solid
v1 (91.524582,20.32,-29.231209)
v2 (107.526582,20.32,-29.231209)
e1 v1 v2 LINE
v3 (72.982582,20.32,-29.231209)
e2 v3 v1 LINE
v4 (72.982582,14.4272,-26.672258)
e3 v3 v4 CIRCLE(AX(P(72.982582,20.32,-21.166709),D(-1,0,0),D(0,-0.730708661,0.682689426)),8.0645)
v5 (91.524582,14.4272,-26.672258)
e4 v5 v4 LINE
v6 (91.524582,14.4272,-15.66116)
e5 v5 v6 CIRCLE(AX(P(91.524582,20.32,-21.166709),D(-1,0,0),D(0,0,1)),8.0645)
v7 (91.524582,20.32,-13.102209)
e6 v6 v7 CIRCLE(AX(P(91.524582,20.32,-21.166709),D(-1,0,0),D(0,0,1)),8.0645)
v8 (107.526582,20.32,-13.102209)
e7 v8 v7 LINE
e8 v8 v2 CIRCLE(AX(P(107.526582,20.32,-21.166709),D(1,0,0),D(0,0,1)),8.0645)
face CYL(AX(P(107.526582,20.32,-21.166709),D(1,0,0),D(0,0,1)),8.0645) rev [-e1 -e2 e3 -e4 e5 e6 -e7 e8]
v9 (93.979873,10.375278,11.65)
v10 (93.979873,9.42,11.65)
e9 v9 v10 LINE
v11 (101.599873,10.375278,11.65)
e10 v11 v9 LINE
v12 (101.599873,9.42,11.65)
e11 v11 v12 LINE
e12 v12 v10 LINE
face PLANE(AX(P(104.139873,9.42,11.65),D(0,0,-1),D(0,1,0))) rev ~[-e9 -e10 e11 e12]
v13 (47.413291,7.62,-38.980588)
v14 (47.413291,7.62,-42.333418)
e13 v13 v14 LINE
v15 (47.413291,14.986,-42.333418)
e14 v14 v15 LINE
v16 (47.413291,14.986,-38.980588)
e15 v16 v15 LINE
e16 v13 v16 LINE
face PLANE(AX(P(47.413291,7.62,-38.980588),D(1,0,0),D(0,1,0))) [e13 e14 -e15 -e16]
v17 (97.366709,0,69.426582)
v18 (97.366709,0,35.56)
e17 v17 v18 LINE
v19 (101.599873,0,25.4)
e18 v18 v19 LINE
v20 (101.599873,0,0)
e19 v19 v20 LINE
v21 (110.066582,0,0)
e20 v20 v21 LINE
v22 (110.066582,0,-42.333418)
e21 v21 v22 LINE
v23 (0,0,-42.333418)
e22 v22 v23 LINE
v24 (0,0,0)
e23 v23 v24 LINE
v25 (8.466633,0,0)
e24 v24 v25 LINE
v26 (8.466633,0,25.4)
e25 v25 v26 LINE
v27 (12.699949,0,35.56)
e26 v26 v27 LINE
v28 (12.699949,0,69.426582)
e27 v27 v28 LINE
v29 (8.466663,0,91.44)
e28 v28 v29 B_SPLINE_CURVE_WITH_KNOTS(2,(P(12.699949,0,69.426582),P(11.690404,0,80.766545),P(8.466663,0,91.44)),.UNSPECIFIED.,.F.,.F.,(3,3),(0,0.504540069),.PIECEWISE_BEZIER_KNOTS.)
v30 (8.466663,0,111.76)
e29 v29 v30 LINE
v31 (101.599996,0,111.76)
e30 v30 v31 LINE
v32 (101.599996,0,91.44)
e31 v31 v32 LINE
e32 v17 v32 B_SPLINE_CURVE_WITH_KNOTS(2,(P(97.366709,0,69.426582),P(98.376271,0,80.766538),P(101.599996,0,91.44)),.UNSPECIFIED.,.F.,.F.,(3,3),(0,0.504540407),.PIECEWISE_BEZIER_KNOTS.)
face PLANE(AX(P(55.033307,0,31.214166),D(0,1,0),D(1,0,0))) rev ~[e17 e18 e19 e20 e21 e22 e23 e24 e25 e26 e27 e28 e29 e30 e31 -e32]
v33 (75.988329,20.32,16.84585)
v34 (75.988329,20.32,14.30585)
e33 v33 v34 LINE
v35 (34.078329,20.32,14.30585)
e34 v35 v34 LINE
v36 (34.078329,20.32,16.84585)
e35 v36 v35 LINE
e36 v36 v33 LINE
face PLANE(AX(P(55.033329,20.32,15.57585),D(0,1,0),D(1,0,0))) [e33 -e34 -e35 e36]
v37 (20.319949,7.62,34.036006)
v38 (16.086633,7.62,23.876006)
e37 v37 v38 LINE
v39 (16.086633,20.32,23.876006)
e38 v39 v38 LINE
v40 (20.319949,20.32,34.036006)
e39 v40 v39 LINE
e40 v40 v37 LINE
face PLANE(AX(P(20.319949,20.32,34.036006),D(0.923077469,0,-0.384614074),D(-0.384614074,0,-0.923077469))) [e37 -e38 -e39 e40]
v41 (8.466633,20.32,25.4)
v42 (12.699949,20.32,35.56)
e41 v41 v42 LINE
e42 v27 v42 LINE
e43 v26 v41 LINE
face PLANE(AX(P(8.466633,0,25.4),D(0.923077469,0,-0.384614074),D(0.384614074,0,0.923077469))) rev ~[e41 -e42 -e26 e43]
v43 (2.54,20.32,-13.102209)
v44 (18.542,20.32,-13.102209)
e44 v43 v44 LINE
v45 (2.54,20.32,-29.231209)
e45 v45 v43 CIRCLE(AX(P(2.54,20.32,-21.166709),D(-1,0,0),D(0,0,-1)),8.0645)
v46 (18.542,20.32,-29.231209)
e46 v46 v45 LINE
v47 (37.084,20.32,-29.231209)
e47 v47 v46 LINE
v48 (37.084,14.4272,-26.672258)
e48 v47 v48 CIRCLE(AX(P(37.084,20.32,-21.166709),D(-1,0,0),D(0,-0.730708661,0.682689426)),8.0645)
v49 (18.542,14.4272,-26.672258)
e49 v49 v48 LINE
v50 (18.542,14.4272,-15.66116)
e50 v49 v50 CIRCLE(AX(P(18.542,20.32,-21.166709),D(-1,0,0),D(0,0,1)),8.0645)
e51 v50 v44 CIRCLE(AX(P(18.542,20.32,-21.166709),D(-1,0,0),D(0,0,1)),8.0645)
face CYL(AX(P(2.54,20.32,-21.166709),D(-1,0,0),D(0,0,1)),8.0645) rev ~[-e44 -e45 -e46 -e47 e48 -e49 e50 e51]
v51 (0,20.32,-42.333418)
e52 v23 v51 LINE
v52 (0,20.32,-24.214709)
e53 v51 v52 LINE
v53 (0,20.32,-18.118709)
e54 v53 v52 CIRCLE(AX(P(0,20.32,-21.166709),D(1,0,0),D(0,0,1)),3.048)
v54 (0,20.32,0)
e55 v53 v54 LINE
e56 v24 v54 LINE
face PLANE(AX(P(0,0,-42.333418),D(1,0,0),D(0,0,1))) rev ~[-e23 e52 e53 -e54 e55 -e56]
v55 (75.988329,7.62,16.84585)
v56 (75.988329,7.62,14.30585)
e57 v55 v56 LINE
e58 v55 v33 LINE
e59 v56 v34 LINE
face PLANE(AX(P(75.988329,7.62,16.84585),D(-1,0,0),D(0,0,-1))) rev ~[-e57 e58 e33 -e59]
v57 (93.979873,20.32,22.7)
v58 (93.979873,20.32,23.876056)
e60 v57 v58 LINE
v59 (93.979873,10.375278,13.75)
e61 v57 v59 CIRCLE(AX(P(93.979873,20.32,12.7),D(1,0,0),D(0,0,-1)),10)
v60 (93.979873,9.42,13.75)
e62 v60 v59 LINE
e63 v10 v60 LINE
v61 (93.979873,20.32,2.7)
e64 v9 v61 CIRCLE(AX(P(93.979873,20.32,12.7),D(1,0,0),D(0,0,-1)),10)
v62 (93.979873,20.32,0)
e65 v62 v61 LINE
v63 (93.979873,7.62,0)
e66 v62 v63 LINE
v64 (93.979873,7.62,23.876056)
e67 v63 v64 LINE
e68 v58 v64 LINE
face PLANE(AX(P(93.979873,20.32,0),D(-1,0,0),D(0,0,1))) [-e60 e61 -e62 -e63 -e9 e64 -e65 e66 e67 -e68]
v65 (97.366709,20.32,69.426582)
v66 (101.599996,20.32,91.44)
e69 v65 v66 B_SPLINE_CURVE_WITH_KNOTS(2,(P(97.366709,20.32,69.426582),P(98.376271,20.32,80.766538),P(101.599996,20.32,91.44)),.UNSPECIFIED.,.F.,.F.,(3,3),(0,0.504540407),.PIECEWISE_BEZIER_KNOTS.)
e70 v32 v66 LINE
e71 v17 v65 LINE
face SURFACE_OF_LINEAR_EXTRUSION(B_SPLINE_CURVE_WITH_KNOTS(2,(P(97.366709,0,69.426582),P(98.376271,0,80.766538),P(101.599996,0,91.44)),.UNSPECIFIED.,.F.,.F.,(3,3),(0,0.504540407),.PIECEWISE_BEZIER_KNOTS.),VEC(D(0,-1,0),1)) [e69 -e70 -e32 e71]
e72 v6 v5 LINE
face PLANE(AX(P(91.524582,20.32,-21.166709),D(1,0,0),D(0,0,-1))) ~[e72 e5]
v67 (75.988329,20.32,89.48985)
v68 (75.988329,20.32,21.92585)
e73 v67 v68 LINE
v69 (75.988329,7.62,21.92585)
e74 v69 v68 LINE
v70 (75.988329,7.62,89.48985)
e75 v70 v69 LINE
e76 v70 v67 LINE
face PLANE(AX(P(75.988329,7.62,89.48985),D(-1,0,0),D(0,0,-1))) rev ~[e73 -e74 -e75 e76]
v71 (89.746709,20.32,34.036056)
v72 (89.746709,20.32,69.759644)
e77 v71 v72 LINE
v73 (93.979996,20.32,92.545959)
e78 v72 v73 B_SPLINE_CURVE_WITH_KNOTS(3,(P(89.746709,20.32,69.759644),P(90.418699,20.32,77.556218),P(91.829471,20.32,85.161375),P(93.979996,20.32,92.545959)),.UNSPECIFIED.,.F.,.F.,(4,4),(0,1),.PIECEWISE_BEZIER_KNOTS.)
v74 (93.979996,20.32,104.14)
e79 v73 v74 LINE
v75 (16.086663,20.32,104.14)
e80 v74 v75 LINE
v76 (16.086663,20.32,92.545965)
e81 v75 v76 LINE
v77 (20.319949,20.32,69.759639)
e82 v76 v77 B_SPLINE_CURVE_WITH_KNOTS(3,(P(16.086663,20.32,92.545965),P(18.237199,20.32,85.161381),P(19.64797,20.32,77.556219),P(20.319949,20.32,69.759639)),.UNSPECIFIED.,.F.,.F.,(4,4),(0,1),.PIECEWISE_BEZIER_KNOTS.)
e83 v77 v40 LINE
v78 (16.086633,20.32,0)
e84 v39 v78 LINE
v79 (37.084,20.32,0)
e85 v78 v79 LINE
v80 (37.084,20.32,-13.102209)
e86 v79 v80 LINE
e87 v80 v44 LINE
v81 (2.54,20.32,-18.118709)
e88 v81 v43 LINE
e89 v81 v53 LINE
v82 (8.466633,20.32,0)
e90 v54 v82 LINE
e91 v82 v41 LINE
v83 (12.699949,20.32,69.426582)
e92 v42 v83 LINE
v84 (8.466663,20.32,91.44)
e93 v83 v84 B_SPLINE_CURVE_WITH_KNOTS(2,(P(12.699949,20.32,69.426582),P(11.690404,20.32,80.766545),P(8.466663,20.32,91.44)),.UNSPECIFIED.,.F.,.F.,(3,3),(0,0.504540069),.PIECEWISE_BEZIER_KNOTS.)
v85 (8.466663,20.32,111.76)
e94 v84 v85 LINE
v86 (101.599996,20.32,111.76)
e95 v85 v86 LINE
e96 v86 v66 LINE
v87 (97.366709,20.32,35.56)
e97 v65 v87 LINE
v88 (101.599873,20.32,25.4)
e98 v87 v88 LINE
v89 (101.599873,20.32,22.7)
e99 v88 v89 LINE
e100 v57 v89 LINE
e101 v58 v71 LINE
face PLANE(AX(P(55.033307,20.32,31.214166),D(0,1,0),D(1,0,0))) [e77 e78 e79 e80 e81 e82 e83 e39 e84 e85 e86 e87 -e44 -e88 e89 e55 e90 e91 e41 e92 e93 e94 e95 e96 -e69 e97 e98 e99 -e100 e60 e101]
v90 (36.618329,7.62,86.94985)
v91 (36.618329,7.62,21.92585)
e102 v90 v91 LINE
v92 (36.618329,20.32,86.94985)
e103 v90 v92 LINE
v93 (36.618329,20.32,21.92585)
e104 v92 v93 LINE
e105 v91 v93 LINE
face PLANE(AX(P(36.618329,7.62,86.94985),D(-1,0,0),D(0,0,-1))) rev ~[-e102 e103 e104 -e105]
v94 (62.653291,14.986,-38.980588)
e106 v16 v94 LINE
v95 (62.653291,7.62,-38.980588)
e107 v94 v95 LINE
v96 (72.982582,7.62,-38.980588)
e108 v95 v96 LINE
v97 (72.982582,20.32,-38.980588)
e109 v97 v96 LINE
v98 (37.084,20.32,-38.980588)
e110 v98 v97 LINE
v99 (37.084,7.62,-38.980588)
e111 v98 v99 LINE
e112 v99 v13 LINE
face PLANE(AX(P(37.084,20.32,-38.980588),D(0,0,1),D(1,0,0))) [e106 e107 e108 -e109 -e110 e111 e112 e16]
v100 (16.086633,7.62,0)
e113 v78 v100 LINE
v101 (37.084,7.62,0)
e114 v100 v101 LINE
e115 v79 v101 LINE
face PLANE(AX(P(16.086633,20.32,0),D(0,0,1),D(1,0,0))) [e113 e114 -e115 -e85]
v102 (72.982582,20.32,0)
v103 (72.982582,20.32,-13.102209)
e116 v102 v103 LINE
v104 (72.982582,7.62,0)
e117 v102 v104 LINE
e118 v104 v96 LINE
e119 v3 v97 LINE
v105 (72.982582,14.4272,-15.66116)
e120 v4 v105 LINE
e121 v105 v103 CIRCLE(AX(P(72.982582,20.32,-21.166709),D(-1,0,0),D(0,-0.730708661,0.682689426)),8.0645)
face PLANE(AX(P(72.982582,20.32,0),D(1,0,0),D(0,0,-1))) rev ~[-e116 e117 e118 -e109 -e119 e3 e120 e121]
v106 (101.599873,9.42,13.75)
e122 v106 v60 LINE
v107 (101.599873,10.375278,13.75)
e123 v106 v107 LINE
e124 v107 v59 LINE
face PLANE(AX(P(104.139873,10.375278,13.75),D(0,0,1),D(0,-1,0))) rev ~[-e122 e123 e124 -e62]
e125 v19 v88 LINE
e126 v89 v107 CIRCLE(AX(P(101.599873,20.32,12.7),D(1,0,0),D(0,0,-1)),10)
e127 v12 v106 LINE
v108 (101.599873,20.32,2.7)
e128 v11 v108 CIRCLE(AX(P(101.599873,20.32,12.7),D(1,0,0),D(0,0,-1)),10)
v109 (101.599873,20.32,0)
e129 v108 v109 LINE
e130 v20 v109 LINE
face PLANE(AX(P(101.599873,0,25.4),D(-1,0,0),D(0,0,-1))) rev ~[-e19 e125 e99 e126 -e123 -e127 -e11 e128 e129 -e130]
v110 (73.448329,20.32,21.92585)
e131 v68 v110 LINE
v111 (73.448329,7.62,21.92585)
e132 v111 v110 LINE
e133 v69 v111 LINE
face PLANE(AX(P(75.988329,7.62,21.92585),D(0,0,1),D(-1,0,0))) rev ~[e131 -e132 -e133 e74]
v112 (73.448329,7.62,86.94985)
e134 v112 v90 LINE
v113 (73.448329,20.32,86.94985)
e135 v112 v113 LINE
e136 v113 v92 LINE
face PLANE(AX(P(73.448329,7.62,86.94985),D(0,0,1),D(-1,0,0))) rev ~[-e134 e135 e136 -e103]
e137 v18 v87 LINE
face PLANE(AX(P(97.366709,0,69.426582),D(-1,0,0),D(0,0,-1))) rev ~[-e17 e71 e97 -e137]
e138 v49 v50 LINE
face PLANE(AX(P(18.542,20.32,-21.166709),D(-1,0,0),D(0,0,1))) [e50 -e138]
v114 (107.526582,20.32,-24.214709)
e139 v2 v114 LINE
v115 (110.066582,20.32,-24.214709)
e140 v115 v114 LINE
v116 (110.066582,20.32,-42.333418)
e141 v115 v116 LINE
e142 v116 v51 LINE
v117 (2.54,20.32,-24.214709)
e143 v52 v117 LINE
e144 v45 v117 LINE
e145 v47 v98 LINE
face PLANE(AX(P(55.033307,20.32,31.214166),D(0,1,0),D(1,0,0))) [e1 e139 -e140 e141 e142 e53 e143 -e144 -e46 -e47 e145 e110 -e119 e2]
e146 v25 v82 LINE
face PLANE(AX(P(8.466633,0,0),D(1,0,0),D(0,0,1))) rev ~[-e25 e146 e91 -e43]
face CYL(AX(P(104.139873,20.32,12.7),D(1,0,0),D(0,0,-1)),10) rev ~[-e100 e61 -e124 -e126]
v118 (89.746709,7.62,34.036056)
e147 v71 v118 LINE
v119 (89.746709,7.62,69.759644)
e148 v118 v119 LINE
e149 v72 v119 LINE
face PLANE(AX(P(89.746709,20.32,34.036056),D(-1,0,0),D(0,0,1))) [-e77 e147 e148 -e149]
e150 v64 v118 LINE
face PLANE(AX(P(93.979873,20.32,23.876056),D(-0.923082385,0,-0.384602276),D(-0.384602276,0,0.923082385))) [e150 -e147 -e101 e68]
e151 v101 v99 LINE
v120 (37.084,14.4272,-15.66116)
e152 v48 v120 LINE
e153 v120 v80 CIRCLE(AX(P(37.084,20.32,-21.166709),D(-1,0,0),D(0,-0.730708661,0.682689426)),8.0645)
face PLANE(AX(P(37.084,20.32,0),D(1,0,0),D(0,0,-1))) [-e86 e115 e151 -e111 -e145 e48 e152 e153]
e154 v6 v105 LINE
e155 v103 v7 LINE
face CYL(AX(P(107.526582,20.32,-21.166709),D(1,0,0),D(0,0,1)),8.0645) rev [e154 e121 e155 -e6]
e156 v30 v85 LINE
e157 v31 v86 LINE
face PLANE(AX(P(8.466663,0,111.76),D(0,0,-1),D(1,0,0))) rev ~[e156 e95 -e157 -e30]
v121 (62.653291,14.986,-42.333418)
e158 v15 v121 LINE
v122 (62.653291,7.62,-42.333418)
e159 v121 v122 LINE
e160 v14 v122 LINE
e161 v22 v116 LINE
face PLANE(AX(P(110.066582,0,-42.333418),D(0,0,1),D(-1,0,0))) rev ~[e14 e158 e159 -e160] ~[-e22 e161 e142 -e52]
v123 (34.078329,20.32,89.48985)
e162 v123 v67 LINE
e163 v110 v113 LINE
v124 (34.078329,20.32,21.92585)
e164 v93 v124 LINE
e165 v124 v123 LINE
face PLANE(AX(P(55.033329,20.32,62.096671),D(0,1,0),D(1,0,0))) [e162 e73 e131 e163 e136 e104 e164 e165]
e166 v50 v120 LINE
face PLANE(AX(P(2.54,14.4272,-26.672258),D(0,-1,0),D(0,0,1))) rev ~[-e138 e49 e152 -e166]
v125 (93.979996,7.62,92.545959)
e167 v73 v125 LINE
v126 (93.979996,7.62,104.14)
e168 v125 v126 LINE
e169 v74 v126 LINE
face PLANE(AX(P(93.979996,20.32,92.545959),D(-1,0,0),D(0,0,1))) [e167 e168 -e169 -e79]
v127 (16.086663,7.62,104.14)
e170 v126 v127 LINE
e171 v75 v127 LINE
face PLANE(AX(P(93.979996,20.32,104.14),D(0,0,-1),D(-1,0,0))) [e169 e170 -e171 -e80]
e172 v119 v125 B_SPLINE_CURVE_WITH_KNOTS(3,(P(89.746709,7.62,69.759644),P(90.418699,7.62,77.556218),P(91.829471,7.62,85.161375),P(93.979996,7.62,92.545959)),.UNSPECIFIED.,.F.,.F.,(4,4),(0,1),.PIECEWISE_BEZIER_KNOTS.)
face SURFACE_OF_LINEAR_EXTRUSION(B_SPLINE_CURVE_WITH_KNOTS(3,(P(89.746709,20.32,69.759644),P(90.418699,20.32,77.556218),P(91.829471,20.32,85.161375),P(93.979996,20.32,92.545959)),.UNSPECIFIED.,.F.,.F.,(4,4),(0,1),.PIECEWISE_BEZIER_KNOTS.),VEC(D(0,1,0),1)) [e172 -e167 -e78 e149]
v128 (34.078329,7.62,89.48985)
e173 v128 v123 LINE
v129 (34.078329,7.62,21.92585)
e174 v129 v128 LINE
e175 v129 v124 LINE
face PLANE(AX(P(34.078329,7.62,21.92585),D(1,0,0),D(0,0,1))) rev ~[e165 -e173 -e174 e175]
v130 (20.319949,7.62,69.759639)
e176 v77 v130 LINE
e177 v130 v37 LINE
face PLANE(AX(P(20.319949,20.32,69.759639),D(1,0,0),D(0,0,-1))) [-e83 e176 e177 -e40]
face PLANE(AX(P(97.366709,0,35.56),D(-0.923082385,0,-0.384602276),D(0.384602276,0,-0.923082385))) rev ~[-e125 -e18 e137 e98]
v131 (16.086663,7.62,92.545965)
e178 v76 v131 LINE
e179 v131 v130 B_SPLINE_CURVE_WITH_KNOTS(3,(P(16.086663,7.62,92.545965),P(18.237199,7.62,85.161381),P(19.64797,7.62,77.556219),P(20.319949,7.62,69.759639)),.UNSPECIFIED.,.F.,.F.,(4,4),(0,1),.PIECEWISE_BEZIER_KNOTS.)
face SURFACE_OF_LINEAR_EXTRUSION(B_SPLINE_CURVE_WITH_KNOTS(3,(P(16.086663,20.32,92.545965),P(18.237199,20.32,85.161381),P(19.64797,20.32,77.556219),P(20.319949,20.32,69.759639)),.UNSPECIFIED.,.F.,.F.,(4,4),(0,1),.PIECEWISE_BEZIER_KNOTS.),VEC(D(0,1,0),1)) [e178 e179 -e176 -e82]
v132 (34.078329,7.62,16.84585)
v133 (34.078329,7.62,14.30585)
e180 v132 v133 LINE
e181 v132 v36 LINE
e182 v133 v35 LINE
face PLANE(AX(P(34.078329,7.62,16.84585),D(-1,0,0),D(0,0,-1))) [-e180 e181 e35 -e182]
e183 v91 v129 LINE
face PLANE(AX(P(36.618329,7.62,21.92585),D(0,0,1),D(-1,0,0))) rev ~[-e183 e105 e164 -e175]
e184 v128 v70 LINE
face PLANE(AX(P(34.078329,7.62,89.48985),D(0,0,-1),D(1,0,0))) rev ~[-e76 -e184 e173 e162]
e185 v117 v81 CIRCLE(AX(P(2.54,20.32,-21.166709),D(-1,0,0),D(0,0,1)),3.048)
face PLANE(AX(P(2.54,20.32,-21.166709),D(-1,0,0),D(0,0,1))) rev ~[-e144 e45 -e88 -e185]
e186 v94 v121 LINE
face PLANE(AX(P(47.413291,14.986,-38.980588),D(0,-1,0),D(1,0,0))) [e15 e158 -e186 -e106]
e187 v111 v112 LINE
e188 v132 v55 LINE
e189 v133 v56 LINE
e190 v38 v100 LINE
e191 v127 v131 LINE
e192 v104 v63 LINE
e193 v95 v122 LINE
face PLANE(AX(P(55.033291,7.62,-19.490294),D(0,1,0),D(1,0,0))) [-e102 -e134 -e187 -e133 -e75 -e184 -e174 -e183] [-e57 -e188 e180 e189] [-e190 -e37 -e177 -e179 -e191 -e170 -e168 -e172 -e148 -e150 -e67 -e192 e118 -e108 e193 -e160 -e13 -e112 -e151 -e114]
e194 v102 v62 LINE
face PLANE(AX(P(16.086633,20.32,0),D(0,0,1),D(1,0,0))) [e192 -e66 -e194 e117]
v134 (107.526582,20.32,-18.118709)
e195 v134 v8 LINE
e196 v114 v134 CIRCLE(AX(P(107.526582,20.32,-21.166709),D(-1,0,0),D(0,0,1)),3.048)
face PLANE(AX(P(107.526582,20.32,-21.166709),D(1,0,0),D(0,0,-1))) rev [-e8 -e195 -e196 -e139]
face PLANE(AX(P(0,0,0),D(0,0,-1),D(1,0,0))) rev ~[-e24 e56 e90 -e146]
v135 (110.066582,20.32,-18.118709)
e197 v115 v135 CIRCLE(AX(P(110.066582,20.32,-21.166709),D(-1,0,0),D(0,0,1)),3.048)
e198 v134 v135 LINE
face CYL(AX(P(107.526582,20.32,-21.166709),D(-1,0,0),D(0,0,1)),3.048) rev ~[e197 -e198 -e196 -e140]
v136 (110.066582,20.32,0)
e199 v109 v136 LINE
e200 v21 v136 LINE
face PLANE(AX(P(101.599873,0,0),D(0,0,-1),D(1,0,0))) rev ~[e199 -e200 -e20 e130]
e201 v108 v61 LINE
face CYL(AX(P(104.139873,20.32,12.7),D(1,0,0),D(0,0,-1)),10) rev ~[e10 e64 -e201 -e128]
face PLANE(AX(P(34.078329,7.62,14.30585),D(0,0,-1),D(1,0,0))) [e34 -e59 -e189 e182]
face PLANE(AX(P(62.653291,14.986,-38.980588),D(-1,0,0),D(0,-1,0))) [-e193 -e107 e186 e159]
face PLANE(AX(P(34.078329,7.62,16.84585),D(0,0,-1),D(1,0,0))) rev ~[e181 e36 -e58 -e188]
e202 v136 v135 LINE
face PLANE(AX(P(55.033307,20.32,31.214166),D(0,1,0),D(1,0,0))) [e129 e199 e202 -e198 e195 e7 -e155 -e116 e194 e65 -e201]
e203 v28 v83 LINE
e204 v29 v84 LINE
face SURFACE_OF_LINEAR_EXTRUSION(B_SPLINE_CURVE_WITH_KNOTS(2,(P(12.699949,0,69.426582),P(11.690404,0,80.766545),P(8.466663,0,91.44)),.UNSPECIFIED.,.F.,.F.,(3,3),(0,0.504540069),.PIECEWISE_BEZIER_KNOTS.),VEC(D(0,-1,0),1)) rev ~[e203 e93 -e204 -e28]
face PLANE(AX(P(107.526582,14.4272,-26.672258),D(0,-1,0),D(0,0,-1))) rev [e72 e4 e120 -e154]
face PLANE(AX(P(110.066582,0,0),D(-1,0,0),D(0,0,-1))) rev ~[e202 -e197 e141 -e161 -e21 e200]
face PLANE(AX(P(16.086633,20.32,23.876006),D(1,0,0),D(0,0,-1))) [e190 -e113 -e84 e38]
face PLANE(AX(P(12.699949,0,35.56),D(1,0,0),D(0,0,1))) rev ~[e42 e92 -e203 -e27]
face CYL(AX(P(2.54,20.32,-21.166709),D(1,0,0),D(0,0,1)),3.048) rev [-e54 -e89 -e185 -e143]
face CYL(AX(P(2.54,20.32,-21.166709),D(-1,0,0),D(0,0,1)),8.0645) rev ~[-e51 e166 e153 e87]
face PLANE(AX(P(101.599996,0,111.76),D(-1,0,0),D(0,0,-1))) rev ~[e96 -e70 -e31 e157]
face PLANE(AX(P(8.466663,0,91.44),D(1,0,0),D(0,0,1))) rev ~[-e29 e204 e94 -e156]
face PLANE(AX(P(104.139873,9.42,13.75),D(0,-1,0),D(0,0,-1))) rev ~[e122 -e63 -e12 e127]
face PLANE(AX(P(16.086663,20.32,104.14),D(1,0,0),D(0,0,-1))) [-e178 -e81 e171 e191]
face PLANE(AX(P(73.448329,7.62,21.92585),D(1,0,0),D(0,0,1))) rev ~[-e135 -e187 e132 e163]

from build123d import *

# Parameters (mm, degrees)
BOSS_EXTRUDE1_DEPTH = 20.32
CUT_EXTRUDE1_DEPTH  = 12.7
SKETCH14_R          = 8.0645
CUT_EXTRUDE4_DEPTH  = 16.002
CUT_EXTRUDE5_DEPTH  = 34.544
SKETCH14_5_R        = 3.048
CUT_EXTRUDE6_DEPTH  = 157.413445344
SKETCH15_W          = 35.898582
SKETCH15_H          = 38.980588406
CUT_EXTRUDE7_DEPTH  = 17.78
SKETCH16_W          = 41.91
SKETCH16_H          = 2.54
BOSS_EXTRUDE2_DEPTH = 12.7
CUT_EXTRUDE9_DEPTH  = 11.4
SKETCH17_5_R        = 10
CUT_EXTRUDE10_DEPTH = 11.4
CUT_EXTRUDE16_DEPTH = 10
SKETCH25_W          = 35.898582
SKETCH25_H          = 38.980588406
BOSS_EXTRUDE4_DEPTH = 5.08


with BuildPart() as part:
    # Sketch3 → Boss-Extrude1 (new body)
    with BuildSketch(Plane(origin=(0, 0, 0), x_dir=(1, 0, 0), z_dir=(0, 1, 0))):
        with BuildLine():
            Line((101.599873, 0), (110.066582, 0))
            Line((110.066582, 0), (110.066582, 42.333418))
            Line((110.066582, 42.333418), (55.033291, 42.333418))
            Line((55.033291, 42.333418), (8.4666328, 42.333418))
            Line((8.4666328, 42.333418), (0, 42.333418))
            Line((0, 42.333418), (0, 0))
            Line((0, 0), (8.4666328, 0))
            Line((8.4666328, 0), (8.4666328, -25.4))
            Line((8.4666328, -25.4), (12.6999492, -35.56))
            Line((12.6999492, -35.56), (12.6999492, -69.426582))
            add(Edge.make_bspline(
                [(12.6999492, -69.426582), (11.690404189, -80.766544706), (8.46666328, -91.44)],
                knots=[0, 0, 0, 0.504540069, 0.504540069, 0.504540069], degree=2))
            Line((8.46666328, -91.44), (8.46666328, -111.76))
            Line((8.46666328, -111.76), (101.599995682, -111.76))
            Line((101.599995682, -111.76), (101.599995682, -91.44))
            add(Edge.make_bspline(
                [(97.366709, -69.426582), (98.376270675, -80.766537876), (101.599995682, -91.44)],
                knots=[0, 0, 0, 0.504540407, 0.504540407, 0.504540407], degree=2))
            Line((97.366709, -69.426582), (97.366709, -35.56))
            Line((97.366709, -35.56), (101.599873, -25.4))
            Line((101.599873, -25.4), (101.599873, 0))
        make_face()
    extrude(amount=BOSS_EXTRUDE1_DEPTH)

    # Sketch7 → Cut-Extrude1 (cut)
    with BuildSketch(Plane(origin=(0, 20.32, 0), x_dir=(1, 0, 0), z_dir=(0, 1, 0))):
        with BuildLine():
            Line((16.0866328, 0), (93.979873, 0))
            Line((93.979873, 0), (93.979873, -23.876056271))
            Line((93.979873, -23.876056271), (89.746709, -34.036056271))
            Line((89.746709, -34.036056271), (89.746709, -69.759644388))
            add(Edge.make_bspline(
                [(89.746709, -69.759644388), (90.418698914, -77.556217584), (91.829471112, -85.161374913), (93.979995682, -92.545959033)],
                knots=[0, 0, 0, 0, 1, 1, 1, 1], degree=3))
            Line((93.979995682, -92.545959033), (93.979995682, -104.14))
            Line((93.979995682, -104.14), (16.08666328, -104.14))
            Line((16.08666328, -104.14), (16.08666328, -92.545964634))
            add(Edge.make_bspline(
                [(16.08666328, -92.545964634), (18.237198531, -85.161380775), (19.647970427, -77.556219246), (20.3199492, -69.759638641)],
                knots=[0, 0, 0, 0, 1, 1, 1, 1], degree=3))
            Line((20.3199492, -69.759638641), (20.3199492, -34.036005627))
            Line((20.3199492, -34.036005627), (16.0866328, -23.876005627))
            Line((16.0866328, -23.876005627), (16.0866328, 0))
        make_face()
    extrude(amount=-CUT_EXTRUDE1_DEPTH, mode=Mode.SUBTRACT)

    # Sketch14 → Cut-Extrude4 (cut)
    with BuildSketch(Plane.ZY.offset(-2.54)):
        with Locations((-21.166709, 20.32)):
            Circle(SKETCH14_R)
    cut_extrude4 = extrude(amount=-CUT_EXTRUDE4_DEPTH, mode=Mode.SUBTRACT)

    # Sketch14<4> → Cut-Extrude5 (cut)
    with BuildSketch(Plane.ZY.offset(-2.54)):
        with BuildLine():
            Line((-26.672257875, 14.4272), (-15.661160125, 14.4272))
            ThreePointArc((-15.661160125, 14.4272), (-21.166709, 28.3845), (-26.672257875, 14.4272))
        make_face()
    cut_extrude5 = extrude(amount=-CUT_EXTRUDE5_DEPTH, mode=Mode.SUBTRACT)

    # Sketch14<5> → Cut-Extrude6 (cut, through all)
    with BuildSketch(Plane.ZY.offset(-2.54)):
        with Locations((-21.166709, 20.32)):
            Circle(SKETCH14_5_R)
    cut_extrude6 = extrude(amount=CUT_EXTRUDE6_DEPTH, mode=Mode.SUBTRACT)

    # Mirror2: Cut-Extrude4, Cut-Extrude5, Cut-Extrude6 across plane
    add(cut_extrude4.mirror(Plane(origin=(55.033291, 0, 0), x_dir=(0, 0, 1), z_dir=(1, 0, 0))), mode=Mode.SUBTRACT)
    add(cut_extrude5.mirror(Plane(origin=(55.033291, 0, 0), x_dir=(0, 0, 1), z_dir=(1, 0, 0))), mode=Mode.SUBTRACT)
    add(cut_extrude6.mirror(Plane(origin=(55.033291, 0, 0), x_dir=(0, 0, 1), z_dir=(1, 0, 0))), mode=Mode.SUBTRACT)

    # Sketch15 → Cut-Extrude7 (cut)
    with BuildSketch(Plane(origin=(0, 20.32, 0), x_dir=(1, 0, 0), z_dir=(0, 1, 0))):
        with Locations((55.033291, 19.490294203)):
            Rectangle(SKETCH15_W, SKETCH15_H)
    extrude(amount=-CUT_EXTRUDE7_DEPTH, mode=Mode.SUBTRACT)

    # Sketch16 → Boss-Extrude2 (add)
    with BuildSketch(Plane(origin=(0, 7.62, 0), x_dir=(1, 0, 0), z_dir=(0, 1, 0))):
        with Locations((55.0333291, -15.57585033)):
            Rectangle(SKETCH16_W, SKETCH16_H)
        Polygon((75.9883291, -21.92585033), (73.4483291, -21.92585033), (73.4483291, -86.94985033), (36.6183291, -86.94985033), (36.6183291, -21.92585033), (34.0783291, -21.92585033), (34.0783291, -89.48985033), (75.9883291, -89.48985033), align=None)
    extrude(amount=BOSS_EXTRUDE2_DEPTH)

    # Sketch17 → Cut-Extrude9 (cut)
    with BuildSketch(Plane(origin=(104.139873, 0, 0), x_dir=(0, 0, -1), z_dir=(1, 0, 0))):
        with BuildLine():
            Line((-13.75, 9.42), (-12.7, 9.42))
            Line((-12.7, 9.42), (-11.65, 9.42))
            Line((-11.65, 9.42), (-11.65, 10.375277782))
            ThreePointArc((-11.65, 10.375277782), (-12.7, 10.32), (-13.75, 10.375277782))
            Line((-13.75, 10.375277782), (-13.75, 9.42))
        make_face()
    extrude(amount=-CUT_EXTRUDE9_DEPTH, mode=Mode.SUBTRACT)

    # Sketch17<5> → Cut-Extrude10 (cut)
    with BuildSketch(Plane(origin=(104.139873, 0, 0), x_dir=(0, 0, -1), z_dir=(1, 0, 0))):
        with Locations((-12.7, 20.32)):
            Circle(SKETCH17_5_R)
    extrude(amount=-CUT_EXTRUDE10_DEPTH, mode=Mode.SUBTRACT)

    # Sketch23 → Cut-Extrude16 (cut)
    with BuildSketch(Plane.XY.offset(-38.980588406)):
        Polygon((62.653291, 14.986), (62.653291, 7.62), (55.033291, 7.62), (47.413291, 7.62), (47.413291, 14.986), align=None)
    extrude(amount=-CUT_EXTRUDE16_DEPTH, mode=Mode.SUBTRACT)

    # Sketch25 → Boss-Extrude4 (add)
    with BuildSketch(Plane(origin=(0, 2.54, 0), x_dir=(1, 0, 0), z_dir=(0, 1, 0))):
        with Locations((55.033291, 19.490294203)):
            Rectangle(SKETCH25_W, SKETCH25_H)
    extrude(amount=BOSS_EXTRUDE4_DEPTH)


solid = part.part
